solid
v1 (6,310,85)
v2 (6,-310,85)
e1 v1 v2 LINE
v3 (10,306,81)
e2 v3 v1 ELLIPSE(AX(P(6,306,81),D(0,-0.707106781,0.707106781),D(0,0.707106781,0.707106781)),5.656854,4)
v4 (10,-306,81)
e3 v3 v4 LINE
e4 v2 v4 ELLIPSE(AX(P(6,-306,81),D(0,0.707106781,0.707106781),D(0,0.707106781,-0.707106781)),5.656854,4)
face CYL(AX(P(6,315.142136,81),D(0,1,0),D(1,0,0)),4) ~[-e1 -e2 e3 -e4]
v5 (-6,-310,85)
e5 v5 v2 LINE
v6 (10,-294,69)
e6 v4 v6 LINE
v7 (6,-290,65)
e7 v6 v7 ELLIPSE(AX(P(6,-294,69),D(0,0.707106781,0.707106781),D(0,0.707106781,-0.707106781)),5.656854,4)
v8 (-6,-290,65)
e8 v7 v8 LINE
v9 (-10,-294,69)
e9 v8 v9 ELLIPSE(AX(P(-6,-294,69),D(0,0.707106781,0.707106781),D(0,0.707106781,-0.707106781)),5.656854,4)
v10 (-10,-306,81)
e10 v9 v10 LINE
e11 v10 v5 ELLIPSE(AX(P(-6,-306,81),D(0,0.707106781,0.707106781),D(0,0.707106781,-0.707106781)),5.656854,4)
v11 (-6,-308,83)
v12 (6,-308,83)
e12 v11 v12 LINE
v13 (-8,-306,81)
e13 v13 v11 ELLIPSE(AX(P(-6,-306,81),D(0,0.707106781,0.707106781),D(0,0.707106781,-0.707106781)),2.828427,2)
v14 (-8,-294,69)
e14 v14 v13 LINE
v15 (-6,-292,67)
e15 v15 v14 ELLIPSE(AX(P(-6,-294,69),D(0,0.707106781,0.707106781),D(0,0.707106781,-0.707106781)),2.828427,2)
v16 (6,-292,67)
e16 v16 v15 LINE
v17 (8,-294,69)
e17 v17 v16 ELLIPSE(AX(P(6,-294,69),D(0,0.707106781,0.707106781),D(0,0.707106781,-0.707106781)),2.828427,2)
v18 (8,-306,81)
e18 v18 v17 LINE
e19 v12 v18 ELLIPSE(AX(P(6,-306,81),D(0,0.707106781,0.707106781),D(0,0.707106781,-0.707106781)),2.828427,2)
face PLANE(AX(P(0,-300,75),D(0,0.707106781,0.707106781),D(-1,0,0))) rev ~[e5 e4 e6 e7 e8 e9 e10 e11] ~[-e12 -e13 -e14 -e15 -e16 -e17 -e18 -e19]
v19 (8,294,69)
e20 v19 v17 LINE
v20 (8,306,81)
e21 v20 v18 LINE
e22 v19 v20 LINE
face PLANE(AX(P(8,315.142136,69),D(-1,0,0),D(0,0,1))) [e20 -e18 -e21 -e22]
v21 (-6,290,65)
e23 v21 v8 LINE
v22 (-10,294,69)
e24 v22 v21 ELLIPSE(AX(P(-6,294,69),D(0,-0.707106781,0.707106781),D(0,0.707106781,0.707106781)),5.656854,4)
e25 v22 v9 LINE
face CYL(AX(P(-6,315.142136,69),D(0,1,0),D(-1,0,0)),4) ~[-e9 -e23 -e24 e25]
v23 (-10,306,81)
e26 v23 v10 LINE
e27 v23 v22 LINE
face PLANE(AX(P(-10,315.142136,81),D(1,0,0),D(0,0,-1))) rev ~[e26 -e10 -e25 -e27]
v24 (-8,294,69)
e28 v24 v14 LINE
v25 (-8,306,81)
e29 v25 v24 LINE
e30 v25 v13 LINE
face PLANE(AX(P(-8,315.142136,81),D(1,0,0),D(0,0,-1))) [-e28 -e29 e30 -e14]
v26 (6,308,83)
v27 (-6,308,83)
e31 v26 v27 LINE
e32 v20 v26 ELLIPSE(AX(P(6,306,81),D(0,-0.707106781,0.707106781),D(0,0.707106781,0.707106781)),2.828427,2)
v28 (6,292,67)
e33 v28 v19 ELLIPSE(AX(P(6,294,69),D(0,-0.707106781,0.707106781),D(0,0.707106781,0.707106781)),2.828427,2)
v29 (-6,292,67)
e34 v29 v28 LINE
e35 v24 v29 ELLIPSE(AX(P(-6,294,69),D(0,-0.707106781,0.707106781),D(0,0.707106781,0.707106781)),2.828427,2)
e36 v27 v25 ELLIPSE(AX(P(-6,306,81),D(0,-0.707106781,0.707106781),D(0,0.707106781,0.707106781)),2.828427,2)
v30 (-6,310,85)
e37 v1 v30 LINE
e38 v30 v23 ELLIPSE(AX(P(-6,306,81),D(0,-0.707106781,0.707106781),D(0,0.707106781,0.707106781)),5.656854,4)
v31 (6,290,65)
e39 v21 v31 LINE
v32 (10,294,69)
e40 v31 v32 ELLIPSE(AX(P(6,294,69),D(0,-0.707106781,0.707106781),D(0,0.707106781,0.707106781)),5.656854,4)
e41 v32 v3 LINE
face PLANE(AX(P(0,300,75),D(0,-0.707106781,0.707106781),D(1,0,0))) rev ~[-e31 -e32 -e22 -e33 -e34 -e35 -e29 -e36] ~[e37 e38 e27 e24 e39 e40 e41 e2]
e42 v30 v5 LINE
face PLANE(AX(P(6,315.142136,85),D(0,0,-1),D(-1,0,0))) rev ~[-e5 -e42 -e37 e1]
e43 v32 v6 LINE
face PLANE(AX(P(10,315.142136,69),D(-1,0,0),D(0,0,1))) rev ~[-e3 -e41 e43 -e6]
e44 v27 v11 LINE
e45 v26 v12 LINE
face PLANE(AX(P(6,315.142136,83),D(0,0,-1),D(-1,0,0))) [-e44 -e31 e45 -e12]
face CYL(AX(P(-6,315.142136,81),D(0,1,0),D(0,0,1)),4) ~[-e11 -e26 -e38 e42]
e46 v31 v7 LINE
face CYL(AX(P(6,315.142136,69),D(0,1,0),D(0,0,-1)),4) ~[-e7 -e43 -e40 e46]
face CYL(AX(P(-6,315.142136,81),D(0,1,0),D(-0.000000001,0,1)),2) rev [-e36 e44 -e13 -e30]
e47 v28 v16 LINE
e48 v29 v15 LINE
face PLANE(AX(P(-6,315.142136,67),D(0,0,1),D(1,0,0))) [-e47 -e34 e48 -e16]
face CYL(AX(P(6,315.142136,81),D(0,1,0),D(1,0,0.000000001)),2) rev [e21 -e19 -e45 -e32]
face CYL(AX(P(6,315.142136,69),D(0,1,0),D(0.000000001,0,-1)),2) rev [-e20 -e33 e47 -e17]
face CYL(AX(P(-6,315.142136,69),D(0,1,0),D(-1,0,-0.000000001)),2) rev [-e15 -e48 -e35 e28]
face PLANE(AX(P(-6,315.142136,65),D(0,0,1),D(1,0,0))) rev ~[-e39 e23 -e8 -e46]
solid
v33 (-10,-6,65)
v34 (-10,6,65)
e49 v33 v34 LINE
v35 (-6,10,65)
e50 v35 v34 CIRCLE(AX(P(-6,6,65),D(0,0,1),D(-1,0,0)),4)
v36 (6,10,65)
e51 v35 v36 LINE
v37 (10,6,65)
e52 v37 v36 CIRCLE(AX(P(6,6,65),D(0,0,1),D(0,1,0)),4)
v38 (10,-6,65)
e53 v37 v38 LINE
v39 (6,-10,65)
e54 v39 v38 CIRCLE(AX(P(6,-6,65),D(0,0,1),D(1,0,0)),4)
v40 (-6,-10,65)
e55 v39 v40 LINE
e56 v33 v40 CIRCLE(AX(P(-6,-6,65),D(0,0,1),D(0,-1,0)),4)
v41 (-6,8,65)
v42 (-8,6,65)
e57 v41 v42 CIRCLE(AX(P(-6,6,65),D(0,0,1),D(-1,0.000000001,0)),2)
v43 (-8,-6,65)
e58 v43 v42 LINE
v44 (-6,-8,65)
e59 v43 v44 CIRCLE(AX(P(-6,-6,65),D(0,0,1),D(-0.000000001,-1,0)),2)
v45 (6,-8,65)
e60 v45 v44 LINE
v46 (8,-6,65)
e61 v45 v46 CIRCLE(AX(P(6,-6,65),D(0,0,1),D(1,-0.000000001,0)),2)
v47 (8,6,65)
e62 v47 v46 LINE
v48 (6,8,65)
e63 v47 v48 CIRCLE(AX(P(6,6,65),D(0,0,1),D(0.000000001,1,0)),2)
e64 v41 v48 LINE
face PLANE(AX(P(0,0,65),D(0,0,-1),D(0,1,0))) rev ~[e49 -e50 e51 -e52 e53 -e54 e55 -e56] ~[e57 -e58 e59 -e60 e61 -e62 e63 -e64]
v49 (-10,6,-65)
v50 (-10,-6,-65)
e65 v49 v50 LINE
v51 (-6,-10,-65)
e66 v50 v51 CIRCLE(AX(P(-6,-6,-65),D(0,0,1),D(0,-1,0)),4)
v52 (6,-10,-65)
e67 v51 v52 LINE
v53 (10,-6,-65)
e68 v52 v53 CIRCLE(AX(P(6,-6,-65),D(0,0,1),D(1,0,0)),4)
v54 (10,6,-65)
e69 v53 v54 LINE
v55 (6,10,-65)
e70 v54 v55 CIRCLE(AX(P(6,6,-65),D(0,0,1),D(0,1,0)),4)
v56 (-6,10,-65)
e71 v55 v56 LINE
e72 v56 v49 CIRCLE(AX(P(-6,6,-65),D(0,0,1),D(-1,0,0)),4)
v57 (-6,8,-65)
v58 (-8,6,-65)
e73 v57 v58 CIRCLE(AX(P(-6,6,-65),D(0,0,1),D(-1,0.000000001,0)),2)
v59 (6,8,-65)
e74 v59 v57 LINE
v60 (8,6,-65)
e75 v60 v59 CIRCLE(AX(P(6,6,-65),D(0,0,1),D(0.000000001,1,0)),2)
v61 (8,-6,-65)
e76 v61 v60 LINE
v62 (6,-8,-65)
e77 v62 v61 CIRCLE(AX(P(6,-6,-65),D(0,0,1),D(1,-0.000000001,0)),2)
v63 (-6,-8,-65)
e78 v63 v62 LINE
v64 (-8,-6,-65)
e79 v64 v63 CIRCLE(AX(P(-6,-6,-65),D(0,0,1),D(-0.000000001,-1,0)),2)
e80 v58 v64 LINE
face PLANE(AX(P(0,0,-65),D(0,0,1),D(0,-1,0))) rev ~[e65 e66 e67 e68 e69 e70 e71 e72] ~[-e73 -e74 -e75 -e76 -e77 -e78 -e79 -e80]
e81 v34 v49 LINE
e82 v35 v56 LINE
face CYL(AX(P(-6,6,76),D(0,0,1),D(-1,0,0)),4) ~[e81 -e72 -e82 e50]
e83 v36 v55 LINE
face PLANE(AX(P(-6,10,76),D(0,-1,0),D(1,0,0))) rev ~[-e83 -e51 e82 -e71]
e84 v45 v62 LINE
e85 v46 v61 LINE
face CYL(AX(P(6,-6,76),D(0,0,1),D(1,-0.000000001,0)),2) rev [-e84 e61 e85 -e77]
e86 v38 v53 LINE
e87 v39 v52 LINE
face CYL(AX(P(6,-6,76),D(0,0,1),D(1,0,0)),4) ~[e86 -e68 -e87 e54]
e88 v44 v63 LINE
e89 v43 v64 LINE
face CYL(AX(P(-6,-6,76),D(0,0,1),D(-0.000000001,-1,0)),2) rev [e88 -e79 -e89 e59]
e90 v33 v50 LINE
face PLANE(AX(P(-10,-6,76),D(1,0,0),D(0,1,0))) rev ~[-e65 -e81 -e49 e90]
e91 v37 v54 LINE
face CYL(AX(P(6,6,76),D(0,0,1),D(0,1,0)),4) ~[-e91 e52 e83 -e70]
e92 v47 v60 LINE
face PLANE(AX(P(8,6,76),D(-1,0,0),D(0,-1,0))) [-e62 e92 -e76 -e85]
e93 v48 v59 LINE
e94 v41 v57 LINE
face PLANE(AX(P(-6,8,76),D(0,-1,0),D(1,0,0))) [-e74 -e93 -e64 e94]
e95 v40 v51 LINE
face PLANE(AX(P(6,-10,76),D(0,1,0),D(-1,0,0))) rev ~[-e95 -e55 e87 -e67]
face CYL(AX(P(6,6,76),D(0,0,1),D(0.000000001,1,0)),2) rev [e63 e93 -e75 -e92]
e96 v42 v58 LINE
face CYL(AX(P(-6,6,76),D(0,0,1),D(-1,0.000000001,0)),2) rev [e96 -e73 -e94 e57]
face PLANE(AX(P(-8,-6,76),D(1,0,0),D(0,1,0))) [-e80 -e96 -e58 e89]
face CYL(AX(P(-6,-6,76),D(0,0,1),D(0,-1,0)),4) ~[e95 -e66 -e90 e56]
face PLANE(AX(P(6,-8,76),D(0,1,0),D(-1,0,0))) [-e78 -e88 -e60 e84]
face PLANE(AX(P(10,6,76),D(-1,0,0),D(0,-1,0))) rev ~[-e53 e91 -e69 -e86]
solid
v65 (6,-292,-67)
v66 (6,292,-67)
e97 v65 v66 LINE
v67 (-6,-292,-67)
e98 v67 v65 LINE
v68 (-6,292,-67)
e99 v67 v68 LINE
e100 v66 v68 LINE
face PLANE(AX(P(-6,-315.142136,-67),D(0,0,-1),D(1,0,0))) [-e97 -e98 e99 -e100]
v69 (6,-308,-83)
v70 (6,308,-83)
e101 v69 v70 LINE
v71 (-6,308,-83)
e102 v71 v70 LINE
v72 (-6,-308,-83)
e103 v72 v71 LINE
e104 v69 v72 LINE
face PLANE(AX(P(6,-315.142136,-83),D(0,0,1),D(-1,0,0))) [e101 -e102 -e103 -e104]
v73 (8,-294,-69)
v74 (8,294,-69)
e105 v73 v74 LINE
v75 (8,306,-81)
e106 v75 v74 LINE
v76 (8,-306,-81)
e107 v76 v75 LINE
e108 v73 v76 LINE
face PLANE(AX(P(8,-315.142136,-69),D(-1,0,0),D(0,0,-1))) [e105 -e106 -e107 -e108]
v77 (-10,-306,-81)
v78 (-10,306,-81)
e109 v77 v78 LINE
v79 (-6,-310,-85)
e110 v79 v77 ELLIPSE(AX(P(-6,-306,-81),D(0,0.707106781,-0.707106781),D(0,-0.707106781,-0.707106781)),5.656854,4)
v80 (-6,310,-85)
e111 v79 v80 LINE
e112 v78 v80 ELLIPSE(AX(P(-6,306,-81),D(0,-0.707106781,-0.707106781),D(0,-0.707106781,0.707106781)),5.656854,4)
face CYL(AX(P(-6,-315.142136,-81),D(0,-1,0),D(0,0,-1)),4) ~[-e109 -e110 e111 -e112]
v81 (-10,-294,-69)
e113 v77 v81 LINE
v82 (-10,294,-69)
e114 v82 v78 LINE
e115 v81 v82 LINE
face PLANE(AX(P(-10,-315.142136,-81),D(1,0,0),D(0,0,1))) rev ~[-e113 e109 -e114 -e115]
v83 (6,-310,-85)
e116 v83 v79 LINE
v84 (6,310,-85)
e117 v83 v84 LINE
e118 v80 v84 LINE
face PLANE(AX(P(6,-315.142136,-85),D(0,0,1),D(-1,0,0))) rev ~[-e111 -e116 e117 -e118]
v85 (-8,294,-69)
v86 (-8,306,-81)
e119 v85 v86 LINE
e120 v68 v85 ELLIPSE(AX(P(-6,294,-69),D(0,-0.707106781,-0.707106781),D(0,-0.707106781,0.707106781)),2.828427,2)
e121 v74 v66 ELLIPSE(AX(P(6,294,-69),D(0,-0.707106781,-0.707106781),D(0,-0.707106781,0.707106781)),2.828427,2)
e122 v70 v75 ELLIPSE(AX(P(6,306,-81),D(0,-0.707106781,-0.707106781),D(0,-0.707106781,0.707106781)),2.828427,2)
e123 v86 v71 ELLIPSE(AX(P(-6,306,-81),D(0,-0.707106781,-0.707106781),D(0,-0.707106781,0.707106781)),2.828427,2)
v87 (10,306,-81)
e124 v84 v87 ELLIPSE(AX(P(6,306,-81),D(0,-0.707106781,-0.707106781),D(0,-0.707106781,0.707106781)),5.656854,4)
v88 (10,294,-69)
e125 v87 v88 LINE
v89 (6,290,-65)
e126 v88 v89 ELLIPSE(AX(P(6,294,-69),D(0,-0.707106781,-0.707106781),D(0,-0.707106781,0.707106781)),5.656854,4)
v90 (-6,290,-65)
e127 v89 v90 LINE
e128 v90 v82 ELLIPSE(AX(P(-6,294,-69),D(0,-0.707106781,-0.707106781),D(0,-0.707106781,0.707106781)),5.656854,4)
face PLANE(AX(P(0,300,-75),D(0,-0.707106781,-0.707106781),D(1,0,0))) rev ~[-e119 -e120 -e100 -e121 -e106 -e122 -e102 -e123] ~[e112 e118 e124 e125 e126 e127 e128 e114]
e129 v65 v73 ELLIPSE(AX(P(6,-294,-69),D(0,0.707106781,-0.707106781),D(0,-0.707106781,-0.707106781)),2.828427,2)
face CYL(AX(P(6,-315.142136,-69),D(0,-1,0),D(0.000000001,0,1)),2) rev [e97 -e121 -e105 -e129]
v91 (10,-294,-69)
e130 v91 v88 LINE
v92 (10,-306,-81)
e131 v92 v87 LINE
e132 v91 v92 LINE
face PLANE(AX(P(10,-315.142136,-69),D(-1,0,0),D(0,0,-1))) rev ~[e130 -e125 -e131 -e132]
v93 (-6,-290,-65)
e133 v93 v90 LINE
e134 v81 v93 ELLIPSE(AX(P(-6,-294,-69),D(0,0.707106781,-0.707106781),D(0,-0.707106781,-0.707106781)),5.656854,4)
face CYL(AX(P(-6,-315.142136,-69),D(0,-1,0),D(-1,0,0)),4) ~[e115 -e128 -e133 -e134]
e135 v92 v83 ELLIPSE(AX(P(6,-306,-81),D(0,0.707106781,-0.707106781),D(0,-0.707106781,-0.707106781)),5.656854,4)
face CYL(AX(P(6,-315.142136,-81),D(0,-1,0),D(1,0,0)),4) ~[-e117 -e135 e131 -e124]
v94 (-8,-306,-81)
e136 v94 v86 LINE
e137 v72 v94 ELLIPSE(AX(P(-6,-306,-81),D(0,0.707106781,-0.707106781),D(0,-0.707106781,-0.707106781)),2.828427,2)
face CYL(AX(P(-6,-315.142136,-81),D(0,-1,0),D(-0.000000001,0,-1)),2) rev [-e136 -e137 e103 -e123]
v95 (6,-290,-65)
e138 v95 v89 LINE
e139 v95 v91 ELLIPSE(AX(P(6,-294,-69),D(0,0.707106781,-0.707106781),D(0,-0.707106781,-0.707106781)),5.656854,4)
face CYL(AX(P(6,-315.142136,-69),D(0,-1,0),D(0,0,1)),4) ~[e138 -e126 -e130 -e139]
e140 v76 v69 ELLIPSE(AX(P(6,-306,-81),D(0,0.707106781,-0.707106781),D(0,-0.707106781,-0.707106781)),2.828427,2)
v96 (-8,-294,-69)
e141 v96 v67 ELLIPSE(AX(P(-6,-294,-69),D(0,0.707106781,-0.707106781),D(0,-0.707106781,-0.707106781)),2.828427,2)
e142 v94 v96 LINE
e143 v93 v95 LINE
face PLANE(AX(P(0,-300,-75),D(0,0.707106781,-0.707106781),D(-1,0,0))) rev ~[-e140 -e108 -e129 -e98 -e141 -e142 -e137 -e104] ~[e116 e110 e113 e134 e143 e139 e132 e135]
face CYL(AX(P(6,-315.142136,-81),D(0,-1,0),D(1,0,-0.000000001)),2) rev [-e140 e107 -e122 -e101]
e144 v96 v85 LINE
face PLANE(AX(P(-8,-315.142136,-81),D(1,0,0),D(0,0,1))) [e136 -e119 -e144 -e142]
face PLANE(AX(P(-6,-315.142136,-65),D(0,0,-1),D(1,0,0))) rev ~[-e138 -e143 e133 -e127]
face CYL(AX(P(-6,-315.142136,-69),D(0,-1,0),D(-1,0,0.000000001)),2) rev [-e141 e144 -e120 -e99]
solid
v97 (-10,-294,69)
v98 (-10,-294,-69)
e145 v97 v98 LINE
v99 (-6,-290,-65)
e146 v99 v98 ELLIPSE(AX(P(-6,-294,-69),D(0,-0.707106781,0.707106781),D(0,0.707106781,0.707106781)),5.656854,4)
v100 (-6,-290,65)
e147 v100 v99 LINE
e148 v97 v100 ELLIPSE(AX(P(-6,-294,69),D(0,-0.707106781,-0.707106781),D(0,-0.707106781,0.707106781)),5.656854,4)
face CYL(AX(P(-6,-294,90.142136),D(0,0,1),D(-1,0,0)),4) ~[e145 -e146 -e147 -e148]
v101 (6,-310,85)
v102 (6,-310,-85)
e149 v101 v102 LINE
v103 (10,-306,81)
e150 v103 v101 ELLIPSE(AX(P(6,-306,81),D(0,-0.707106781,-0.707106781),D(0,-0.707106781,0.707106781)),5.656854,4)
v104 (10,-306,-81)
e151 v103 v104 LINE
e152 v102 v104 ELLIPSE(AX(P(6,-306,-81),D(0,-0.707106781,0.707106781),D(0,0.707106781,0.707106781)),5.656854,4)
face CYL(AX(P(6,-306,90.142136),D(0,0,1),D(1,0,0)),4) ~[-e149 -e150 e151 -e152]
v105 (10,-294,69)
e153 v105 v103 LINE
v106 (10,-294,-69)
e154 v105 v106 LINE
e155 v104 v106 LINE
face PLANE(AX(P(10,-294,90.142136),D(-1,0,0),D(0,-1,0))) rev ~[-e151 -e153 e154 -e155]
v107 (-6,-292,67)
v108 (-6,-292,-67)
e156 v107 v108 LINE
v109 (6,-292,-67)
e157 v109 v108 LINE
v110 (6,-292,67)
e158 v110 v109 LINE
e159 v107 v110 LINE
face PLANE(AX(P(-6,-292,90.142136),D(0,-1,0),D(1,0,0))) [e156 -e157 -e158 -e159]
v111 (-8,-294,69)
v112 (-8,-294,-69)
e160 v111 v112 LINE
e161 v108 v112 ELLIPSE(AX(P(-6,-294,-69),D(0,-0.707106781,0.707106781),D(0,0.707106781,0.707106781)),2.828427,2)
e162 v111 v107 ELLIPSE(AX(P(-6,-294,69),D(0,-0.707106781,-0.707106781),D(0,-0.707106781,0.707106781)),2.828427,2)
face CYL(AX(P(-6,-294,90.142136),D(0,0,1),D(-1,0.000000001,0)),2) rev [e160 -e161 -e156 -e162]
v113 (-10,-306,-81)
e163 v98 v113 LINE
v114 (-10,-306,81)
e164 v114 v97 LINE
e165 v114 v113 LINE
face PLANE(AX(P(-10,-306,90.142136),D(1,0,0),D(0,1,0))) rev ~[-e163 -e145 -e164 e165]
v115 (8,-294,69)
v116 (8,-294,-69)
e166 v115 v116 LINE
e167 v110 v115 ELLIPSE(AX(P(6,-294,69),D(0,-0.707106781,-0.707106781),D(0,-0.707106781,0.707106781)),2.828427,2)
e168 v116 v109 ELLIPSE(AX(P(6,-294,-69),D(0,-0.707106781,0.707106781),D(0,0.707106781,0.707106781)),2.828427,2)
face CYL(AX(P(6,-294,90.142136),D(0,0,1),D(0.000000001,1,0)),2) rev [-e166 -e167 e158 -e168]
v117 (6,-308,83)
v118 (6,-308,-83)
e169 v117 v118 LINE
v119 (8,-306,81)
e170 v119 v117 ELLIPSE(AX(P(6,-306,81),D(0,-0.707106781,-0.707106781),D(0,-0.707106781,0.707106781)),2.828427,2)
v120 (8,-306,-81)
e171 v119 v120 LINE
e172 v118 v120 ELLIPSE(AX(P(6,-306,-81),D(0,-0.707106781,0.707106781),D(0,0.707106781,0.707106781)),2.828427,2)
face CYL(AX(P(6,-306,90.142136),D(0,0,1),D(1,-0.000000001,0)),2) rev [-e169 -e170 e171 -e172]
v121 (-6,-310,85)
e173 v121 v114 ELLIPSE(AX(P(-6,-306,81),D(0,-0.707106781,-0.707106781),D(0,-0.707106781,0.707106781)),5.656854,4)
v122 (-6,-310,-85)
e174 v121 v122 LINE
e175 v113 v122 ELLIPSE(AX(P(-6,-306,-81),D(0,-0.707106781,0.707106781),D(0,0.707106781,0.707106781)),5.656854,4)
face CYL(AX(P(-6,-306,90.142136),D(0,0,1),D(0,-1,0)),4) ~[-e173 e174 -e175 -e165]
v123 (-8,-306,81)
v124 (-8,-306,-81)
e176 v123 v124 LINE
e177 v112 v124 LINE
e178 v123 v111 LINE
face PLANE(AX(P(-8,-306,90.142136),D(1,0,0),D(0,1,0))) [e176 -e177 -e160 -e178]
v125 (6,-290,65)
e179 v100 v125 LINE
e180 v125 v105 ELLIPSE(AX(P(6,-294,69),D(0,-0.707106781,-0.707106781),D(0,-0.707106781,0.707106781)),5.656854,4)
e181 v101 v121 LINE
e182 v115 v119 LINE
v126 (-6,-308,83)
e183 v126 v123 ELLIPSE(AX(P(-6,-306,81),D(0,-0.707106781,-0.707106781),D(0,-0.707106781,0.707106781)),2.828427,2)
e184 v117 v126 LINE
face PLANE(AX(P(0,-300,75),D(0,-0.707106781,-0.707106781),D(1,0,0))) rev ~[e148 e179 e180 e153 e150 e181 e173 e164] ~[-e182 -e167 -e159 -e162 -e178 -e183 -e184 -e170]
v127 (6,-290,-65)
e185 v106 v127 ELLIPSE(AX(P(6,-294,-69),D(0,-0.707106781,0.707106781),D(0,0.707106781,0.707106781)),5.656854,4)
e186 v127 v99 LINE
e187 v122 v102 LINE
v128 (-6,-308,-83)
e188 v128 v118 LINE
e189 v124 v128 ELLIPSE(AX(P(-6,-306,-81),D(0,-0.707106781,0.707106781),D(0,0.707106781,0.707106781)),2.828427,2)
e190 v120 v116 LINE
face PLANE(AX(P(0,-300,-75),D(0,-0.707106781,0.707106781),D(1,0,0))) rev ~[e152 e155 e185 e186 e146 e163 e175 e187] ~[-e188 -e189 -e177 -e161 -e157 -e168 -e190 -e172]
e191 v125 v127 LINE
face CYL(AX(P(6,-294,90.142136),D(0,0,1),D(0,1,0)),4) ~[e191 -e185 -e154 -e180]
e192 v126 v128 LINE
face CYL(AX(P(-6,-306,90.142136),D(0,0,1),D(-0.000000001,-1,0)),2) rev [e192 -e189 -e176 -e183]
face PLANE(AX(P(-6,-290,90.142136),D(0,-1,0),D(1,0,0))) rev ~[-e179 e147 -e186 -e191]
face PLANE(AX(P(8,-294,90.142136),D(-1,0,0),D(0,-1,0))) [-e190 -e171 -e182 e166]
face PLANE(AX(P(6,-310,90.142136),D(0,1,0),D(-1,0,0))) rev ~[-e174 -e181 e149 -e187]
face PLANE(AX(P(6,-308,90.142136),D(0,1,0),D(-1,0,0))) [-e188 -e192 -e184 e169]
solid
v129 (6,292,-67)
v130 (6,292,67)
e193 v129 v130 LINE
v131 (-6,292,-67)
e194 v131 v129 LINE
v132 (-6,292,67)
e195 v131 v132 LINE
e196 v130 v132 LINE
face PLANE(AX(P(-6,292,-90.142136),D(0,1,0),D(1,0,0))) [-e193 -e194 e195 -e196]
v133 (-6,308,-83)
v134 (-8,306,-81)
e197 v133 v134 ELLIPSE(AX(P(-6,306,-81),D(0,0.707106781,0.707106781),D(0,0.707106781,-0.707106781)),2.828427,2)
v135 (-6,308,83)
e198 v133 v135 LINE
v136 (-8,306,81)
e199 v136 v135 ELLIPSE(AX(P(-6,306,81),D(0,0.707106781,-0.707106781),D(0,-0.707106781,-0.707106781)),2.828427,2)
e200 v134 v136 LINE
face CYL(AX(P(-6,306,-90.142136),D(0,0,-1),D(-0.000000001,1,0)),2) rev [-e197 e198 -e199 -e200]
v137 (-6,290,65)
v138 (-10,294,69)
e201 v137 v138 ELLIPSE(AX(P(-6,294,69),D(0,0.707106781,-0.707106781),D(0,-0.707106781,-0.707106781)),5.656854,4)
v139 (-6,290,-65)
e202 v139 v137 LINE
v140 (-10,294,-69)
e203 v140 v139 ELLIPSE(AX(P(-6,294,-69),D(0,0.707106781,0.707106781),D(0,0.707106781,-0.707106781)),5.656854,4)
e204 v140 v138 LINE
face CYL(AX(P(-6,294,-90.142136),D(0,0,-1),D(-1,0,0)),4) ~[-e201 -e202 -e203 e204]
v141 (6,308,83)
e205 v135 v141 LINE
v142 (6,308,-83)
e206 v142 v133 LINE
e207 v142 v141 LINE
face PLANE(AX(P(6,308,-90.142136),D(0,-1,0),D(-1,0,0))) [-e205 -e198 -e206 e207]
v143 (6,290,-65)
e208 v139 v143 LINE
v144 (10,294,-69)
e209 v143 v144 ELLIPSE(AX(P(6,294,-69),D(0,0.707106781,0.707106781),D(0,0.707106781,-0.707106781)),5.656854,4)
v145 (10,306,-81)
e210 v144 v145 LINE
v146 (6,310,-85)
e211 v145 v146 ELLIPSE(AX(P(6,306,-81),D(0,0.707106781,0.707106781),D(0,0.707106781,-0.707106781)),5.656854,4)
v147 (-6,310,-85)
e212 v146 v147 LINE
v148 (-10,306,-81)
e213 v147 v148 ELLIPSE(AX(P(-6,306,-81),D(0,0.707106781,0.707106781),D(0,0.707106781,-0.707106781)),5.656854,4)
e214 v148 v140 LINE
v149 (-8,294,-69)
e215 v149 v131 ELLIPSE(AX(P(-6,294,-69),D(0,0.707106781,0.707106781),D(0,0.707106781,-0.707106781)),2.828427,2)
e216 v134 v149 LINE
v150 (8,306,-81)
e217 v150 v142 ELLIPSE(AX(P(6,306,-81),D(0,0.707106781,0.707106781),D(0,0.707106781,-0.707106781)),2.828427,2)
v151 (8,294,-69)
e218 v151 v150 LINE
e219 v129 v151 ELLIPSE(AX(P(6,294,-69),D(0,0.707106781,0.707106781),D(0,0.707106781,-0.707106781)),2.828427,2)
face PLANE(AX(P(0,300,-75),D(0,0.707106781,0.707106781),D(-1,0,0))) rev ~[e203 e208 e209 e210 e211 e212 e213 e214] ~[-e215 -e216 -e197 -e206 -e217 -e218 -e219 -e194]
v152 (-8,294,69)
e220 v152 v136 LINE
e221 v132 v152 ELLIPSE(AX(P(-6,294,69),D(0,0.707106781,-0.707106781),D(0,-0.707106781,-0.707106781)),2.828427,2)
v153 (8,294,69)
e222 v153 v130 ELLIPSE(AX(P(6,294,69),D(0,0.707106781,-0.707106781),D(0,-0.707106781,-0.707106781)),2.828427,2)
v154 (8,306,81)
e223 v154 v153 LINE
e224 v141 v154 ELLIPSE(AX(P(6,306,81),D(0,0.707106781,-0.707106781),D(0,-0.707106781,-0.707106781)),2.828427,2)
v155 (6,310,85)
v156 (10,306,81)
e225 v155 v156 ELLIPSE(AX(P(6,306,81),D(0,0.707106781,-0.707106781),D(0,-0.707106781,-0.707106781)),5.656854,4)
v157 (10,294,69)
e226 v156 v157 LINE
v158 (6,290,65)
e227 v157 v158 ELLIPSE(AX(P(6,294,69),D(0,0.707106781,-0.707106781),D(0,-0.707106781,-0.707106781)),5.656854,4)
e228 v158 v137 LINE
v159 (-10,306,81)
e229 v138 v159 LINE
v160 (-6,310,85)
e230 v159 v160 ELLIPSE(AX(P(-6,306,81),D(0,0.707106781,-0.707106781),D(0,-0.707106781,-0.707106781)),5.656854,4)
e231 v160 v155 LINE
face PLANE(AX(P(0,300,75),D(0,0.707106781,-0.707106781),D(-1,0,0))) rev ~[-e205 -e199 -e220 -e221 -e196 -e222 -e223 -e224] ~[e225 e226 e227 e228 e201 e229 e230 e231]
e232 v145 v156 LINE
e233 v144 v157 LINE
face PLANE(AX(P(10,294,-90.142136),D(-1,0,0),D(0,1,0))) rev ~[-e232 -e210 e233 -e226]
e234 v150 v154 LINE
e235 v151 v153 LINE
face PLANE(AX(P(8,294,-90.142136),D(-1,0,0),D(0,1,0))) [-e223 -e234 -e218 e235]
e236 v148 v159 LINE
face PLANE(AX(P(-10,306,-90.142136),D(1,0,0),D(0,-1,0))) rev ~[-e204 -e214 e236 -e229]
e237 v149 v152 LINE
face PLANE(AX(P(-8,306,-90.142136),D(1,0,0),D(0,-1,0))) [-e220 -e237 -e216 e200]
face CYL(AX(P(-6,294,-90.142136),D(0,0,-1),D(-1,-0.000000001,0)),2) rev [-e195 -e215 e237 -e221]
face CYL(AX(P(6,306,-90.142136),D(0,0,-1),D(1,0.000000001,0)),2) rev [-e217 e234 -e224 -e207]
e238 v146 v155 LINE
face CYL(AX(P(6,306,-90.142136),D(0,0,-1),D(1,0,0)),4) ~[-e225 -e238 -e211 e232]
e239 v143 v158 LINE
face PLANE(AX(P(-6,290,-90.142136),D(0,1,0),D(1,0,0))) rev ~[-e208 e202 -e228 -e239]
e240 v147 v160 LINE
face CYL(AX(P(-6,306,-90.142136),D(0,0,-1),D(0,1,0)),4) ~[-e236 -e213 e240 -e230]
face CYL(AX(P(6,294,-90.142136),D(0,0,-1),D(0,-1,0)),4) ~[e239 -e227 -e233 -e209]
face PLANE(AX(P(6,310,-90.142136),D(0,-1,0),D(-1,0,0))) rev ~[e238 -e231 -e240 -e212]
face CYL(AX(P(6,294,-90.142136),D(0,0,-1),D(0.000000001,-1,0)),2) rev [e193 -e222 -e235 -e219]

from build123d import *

# Parameters (mm, degrees)
TUBO_CUADRADO_20_X_20_X_2_1_DEPTH      = 615.142135624
TUBO_CUADRADO_20_X_20_X_2_1_DEPTH_BACK = 15.142135624
TUBO_CUADRADO_20_X_20_X_2_1_2_DEPTH    = 180.284271247
TUBO_CUADRADO_20_X_20_X_2_1_3_DEPTH    = 630.284271247
TUBO_CUADRADO_20_X_20_X_2_1_4_DEPTH    = 180.284271247
TUBO_CUADRADO_20_X_20_X_2_1_5_DEPTH    = 152


with BuildPart() as part:
    # Sketch1 → Tubo cuadrado 20 X 20 X 2(1) (new, two sides: drawn at the far end of the back side and taken through both)
    with BuildSketch(Plane(origin=(0, 300, 75), x_dir=(0, 0, -1), z_dir=(0, -1, 0)).offset(-TUBO_CUADRADO_20_X_20_X_2_1_DEPTH_BACK)):
        with BuildLine():
            Line((-6, -10), (6, -10))
            ThreePointArc((6, -10), (8.828427125, -8.828427125), (10, -6))
            Line((10, -6), (10, 6))
            ThreePointArc((10, 6), (8.828427125, 8.828427125), (6, 10))
            Line((6, 10), (-6, 10))
            ThreePointArc((-6, 10), (-8.828427125, 8.828427125), (-10, 6))
            Line((-10, 6), (-10, -6))
            ThreePointArc((-10, -6), (-8.828427125, -8.828427125), (-6, -10))
        make_face()
        with BuildLine():
            Line((-6, -8), (6, -8))
            ThreePointArc((6, -8), (7.414213562, -7.414213562), (8, -6))
            Line((8, -6), (8, 6))
            ThreePointArc((8, 6), (7.414213562, 7.414213562), (6, 8))
            Line((6, 8), (-6, 8))
            ThreePointArc((-6, 8), (-7.414213562, 7.414213562), (-8, 6))
            Line((-8, 6), (-8, -6))
            ThreePointArc((-8, -6), (-7.414213562, -7.414213562), (-6, -8))
        make_face(mode=Mode.SUBTRACT)
    extrude(amount=TUBO_CUADRADO_20_X_20_X_2_1_DEPTH + TUBO_CUADRADO_20_X_20_X_2_1_DEPTH_BACK)

    # Tubo cuadrado 20 X 20 X 2(1) mitre 1
    split(bisect_by=Plane(origin=(0, 300, 75), x_dir=(1, 0, 0), z_dir=(0, -0.707106781, 0.707106781)), keep=Keep.TOP)

    # Tubo cuadrado 20 X 20 X 2(1) mitre 2
    split(bisect_by=Plane(origin=(0, -300, 75), x_dir=(-1, 0, 0), z_dir=(0, 0.707106781, 0.707106781)), keep=Keep.TOP)


with BuildPart() as body_2:
    # Sketch1 on segment 2 (carried to segment 2) → Tubo cuadrado 20 X 20 X 2_1 2 (new body)
    with BuildSketch(Plane(origin=(0, -300, 90.142135624), x_dir=(0, 1, 0), z_dir=(0, 0, -1))):
        with BuildLine():
            Line((-6, -10), (6, -10))
            ThreePointArc((6, -10), (8.828427125, -8.828427125), (10, -6))
            Line((10, -6), (10, 6))
            ThreePointArc((10, 6), (8.828427125, 8.828427125), (6, 10))
            Line((6, 10), (-6, 10))
            ThreePointArc((-6, 10), (-8.828427125, 8.828427125), (-10, 6))
            Line((-10, 6), (-10, -6))
            ThreePointArc((-10, -6), (-8.828427125, -8.828427125), (-6, -10))
        make_face()
        with BuildLine():
            Line((-6, -8), (6, -8))
            ThreePointArc((6, -8), (7.414213562, -7.414213562), (8, -6))
            Line((8, -6), (8, 6))
            ThreePointArc((8, 6), (7.414213562, 7.414213562), (6, 8))
            Line((6, 8), (-6, 8))
            ThreePointArc((-6, 8), (-7.414213562, 7.414213562), (-8, 6))
            Line((-8, 6), (-8, -6))
            ThreePointArc((-8, -6), (-7.414213562, -7.414213562), (-6, -8))
        make_face(mode=Mode.SUBTRACT)
    extrude(amount=TUBO_CUADRADO_20_X_20_X_2_1_2_DEPTH)

    # Tubo cuadrado 20 X 20 X 2_1 2 mitre 1
    split(bisect_by=Plane(origin=(0, -300, 75), x_dir=(1, 0, 0), z_dir=(0, -0.707106781, -0.707106781)), keep=Keep.TOP)

    # Tubo cuadrado 20 X 20 X 2_1 2 mitre 2
    split(bisect_by=Plane(origin=(0, -300, -75), x_dir=(1, 0, 0), z_dir=(0, -0.707106781, 0.707106781)), keep=Keep.TOP)


with BuildPart() as body_3:
    # Sketch1 on segment 3 (carried to segment 3) → Tubo cuadrado 20 X 20 X 2_1 3 (new body)
    with BuildSketch(Plane(origin=(0, -315.142135624, -75), x_dir=(0, 0, 1), z_dir=(0, 1, 0))):
        with BuildLine():
            Line((-6, -10), (6, -10))
            ThreePointArc((6, -10), (8.828427125, -8.828427125), (10, -6))
            Line((10, -6), (10, 6))
            ThreePointArc((10, 6), (8.828427125, 8.828427125), (6, 10))
            Line((6, 10), (-6, 10))
            ThreePointArc((-6, 10), (-8.828427125, 8.828427125), (-10, 6))
            Line((-10, 6), (-10, -6))
            ThreePointArc((-10, -6), (-8.828427125, -8.828427125), (-6, -10))
        make_face()
        with BuildLine():
            Line((-6, -8), (6, -8))
            ThreePointArc((6, -8), (7.414213562, -7.414213562), (8, -6))
            Line((8, -6), (8, 6))
            ThreePointArc((8, 6), (7.414213562, 7.414213562), (6, 8))
            Line((6, 8), (-6, 8))
            ThreePointArc((-6, 8), (-7.414213562, 7.414213562), (-8, 6))
            Line((-8, 6), (-8, -6))
            ThreePointArc((-8, -6), (-7.414213562, -7.414213562), (-6, -8))
        make_face(mode=Mode.SUBTRACT)
    extrude(amount=TUBO_CUADRADO_20_X_20_X_2_1_3_DEPTH)

    # Tubo cuadrado 20 X 20 X 2_1 3 mitre 1
    split(bisect_by=Plane(origin=(0, 300, -75), x_dir=(1, 0, 0), z_dir=(0, -0.707106781, -0.707106781)), keep=Keep.TOP)

    # Tubo cuadrado 20 X 20 X 2_1 3 mitre 2
    split(bisect_by=Plane(origin=(0, -300, -75), x_dir=(-1, 0, 0), z_dir=(0, 0.707106781, -0.707106781)), keep=Keep.TOP)


with BuildPart() as body_4:
    # Sketch1 on segment 4 (carried to segment 4) → Tubo cuadrado 20 X 20 X 2_1 4 (new body)
    with BuildSketch(Plane(origin=(0, 300, -90.142135624), x_dir=(0, -1, 0), z_dir=(0, 0, 1))):
        with BuildLine():
            Line((-6, -10), (6, -10))
            ThreePointArc((6, -10), (8.828427125, -8.828427125), (10, -6))
            Line((10, -6), (10, 6))
            ThreePointArc((10, 6), (8.828427125, 8.828427125), (6, 10))
            Line((6, 10), (-6, 10))
            ThreePointArc((-6, 10), (-8.828427125, 8.828427125), (-10, 6))
            Line((-10, 6), (-10, -6))
            ThreePointArc((-10, -6), (-8.828427125, -8.828427125), (-6, -10))
        make_face()
        with BuildLine():
            Line((-6, -8), (6, -8))
            ThreePointArc((6, -8), (7.414213562, -7.414213562), (8, -6))
            Line((8, -6), (8, 6))
            ThreePointArc((8, 6), (7.414213562, 7.414213562), (6, 8))
            Line((6, 8), (-6, 8))
            ThreePointArc((-6, 8), (-7.414213562, 7.414213562), (-8, 6))
            Line((-8, 6), (-8, -6))
            ThreePointArc((-8, -6), (-7.414213562, -7.414213562), (-6, -8))
        make_face(mode=Mode.SUBTRACT)
    extrude(amount=TUBO_CUADRADO_20_X_20_X_2_1_4_DEPTH)

    # Tubo cuadrado 20 X 20 X 2_1 4 mitre 1
    split(bisect_by=Plane(origin=(0, 300, 75), x_dir=(-1, 0, 0), z_dir=(0, 0.707106781, -0.707106781)), keep=Keep.TOP)

    # Tubo cuadrado 20 X 20 X 2_1 4 mitre 2
    split(bisect_by=Plane(origin=(0, 300, -75), x_dir=(-1, 0, 0), z_dir=(0, 0.707106781, 0.707106781)), keep=Keep.TOP)


with BuildPart() as body_5:
    # Sketch1 on segment 5 (carried to segment 5) → Tubo cuadrado 20 X 20 X 2_1 5 (new body)
    with BuildSketch(Plane.YX.offset(-76)):
        with BuildLine():
            Line((-6, -10), (6, -10))
            ThreePointArc((6, -10), (8.828427125, -8.828427125), (10, -6))
            Line((10, -6), (10, 6))
            ThreePointArc((10, 6), (8.828427125, 8.828427125), (6, 10))
            Line((6, 10), (-6, 10))
            ThreePointArc((-6, 10), (-8.828427125, 8.828427125), (-10, 6))
            Line((-10, 6), (-10, -6))
            ThreePointArc((-10, -6), (-8.828427125, -8.828427125), (-6, -10))
        make_face()
        with BuildLine():
            Line((-6, -8), (6, -8))
            ThreePointArc((6, -8), (7.414213562, -7.414213562), (8, -6))
            Line((8, -6), (8, 6))
            ThreePointArc((8, 6), (7.414213562, 7.414213562), (6, 8))
            Line((6, 8), (-6, 8))
            ThreePointArc((-6, 8), (-7.414213562, 7.414213562), (-8, 6))
            Line((-8, 6), (-8, -6))
            ThreePointArc((-8, -6), (-7.414213562, -7.414213562), (-6, -8))
        make_face(mode=Mode.SUBTRACT)
    extrude(amount=TUBO_CUADRADO_20_X_20_X_2_1_5_DEPTH)

    # Tubo cuadrado 20 X 20 X 2_1 5 mitre 1
    split(bisect_by=Plane.YX.offset(-65), keep=Keep.TOP)

    # Tubo cuadrado 20 X 20 X 2_1 5 mitre 2
    split(bisect_by=Plane(origin=(0, 0, -65), x_dir=(0, -1, 0), z_dir=(0, 0, 1)), keep=Keep.TOP)


solid = Compound([part.part, body_2.part, body_3.part, body_4.part, body_5.part])
